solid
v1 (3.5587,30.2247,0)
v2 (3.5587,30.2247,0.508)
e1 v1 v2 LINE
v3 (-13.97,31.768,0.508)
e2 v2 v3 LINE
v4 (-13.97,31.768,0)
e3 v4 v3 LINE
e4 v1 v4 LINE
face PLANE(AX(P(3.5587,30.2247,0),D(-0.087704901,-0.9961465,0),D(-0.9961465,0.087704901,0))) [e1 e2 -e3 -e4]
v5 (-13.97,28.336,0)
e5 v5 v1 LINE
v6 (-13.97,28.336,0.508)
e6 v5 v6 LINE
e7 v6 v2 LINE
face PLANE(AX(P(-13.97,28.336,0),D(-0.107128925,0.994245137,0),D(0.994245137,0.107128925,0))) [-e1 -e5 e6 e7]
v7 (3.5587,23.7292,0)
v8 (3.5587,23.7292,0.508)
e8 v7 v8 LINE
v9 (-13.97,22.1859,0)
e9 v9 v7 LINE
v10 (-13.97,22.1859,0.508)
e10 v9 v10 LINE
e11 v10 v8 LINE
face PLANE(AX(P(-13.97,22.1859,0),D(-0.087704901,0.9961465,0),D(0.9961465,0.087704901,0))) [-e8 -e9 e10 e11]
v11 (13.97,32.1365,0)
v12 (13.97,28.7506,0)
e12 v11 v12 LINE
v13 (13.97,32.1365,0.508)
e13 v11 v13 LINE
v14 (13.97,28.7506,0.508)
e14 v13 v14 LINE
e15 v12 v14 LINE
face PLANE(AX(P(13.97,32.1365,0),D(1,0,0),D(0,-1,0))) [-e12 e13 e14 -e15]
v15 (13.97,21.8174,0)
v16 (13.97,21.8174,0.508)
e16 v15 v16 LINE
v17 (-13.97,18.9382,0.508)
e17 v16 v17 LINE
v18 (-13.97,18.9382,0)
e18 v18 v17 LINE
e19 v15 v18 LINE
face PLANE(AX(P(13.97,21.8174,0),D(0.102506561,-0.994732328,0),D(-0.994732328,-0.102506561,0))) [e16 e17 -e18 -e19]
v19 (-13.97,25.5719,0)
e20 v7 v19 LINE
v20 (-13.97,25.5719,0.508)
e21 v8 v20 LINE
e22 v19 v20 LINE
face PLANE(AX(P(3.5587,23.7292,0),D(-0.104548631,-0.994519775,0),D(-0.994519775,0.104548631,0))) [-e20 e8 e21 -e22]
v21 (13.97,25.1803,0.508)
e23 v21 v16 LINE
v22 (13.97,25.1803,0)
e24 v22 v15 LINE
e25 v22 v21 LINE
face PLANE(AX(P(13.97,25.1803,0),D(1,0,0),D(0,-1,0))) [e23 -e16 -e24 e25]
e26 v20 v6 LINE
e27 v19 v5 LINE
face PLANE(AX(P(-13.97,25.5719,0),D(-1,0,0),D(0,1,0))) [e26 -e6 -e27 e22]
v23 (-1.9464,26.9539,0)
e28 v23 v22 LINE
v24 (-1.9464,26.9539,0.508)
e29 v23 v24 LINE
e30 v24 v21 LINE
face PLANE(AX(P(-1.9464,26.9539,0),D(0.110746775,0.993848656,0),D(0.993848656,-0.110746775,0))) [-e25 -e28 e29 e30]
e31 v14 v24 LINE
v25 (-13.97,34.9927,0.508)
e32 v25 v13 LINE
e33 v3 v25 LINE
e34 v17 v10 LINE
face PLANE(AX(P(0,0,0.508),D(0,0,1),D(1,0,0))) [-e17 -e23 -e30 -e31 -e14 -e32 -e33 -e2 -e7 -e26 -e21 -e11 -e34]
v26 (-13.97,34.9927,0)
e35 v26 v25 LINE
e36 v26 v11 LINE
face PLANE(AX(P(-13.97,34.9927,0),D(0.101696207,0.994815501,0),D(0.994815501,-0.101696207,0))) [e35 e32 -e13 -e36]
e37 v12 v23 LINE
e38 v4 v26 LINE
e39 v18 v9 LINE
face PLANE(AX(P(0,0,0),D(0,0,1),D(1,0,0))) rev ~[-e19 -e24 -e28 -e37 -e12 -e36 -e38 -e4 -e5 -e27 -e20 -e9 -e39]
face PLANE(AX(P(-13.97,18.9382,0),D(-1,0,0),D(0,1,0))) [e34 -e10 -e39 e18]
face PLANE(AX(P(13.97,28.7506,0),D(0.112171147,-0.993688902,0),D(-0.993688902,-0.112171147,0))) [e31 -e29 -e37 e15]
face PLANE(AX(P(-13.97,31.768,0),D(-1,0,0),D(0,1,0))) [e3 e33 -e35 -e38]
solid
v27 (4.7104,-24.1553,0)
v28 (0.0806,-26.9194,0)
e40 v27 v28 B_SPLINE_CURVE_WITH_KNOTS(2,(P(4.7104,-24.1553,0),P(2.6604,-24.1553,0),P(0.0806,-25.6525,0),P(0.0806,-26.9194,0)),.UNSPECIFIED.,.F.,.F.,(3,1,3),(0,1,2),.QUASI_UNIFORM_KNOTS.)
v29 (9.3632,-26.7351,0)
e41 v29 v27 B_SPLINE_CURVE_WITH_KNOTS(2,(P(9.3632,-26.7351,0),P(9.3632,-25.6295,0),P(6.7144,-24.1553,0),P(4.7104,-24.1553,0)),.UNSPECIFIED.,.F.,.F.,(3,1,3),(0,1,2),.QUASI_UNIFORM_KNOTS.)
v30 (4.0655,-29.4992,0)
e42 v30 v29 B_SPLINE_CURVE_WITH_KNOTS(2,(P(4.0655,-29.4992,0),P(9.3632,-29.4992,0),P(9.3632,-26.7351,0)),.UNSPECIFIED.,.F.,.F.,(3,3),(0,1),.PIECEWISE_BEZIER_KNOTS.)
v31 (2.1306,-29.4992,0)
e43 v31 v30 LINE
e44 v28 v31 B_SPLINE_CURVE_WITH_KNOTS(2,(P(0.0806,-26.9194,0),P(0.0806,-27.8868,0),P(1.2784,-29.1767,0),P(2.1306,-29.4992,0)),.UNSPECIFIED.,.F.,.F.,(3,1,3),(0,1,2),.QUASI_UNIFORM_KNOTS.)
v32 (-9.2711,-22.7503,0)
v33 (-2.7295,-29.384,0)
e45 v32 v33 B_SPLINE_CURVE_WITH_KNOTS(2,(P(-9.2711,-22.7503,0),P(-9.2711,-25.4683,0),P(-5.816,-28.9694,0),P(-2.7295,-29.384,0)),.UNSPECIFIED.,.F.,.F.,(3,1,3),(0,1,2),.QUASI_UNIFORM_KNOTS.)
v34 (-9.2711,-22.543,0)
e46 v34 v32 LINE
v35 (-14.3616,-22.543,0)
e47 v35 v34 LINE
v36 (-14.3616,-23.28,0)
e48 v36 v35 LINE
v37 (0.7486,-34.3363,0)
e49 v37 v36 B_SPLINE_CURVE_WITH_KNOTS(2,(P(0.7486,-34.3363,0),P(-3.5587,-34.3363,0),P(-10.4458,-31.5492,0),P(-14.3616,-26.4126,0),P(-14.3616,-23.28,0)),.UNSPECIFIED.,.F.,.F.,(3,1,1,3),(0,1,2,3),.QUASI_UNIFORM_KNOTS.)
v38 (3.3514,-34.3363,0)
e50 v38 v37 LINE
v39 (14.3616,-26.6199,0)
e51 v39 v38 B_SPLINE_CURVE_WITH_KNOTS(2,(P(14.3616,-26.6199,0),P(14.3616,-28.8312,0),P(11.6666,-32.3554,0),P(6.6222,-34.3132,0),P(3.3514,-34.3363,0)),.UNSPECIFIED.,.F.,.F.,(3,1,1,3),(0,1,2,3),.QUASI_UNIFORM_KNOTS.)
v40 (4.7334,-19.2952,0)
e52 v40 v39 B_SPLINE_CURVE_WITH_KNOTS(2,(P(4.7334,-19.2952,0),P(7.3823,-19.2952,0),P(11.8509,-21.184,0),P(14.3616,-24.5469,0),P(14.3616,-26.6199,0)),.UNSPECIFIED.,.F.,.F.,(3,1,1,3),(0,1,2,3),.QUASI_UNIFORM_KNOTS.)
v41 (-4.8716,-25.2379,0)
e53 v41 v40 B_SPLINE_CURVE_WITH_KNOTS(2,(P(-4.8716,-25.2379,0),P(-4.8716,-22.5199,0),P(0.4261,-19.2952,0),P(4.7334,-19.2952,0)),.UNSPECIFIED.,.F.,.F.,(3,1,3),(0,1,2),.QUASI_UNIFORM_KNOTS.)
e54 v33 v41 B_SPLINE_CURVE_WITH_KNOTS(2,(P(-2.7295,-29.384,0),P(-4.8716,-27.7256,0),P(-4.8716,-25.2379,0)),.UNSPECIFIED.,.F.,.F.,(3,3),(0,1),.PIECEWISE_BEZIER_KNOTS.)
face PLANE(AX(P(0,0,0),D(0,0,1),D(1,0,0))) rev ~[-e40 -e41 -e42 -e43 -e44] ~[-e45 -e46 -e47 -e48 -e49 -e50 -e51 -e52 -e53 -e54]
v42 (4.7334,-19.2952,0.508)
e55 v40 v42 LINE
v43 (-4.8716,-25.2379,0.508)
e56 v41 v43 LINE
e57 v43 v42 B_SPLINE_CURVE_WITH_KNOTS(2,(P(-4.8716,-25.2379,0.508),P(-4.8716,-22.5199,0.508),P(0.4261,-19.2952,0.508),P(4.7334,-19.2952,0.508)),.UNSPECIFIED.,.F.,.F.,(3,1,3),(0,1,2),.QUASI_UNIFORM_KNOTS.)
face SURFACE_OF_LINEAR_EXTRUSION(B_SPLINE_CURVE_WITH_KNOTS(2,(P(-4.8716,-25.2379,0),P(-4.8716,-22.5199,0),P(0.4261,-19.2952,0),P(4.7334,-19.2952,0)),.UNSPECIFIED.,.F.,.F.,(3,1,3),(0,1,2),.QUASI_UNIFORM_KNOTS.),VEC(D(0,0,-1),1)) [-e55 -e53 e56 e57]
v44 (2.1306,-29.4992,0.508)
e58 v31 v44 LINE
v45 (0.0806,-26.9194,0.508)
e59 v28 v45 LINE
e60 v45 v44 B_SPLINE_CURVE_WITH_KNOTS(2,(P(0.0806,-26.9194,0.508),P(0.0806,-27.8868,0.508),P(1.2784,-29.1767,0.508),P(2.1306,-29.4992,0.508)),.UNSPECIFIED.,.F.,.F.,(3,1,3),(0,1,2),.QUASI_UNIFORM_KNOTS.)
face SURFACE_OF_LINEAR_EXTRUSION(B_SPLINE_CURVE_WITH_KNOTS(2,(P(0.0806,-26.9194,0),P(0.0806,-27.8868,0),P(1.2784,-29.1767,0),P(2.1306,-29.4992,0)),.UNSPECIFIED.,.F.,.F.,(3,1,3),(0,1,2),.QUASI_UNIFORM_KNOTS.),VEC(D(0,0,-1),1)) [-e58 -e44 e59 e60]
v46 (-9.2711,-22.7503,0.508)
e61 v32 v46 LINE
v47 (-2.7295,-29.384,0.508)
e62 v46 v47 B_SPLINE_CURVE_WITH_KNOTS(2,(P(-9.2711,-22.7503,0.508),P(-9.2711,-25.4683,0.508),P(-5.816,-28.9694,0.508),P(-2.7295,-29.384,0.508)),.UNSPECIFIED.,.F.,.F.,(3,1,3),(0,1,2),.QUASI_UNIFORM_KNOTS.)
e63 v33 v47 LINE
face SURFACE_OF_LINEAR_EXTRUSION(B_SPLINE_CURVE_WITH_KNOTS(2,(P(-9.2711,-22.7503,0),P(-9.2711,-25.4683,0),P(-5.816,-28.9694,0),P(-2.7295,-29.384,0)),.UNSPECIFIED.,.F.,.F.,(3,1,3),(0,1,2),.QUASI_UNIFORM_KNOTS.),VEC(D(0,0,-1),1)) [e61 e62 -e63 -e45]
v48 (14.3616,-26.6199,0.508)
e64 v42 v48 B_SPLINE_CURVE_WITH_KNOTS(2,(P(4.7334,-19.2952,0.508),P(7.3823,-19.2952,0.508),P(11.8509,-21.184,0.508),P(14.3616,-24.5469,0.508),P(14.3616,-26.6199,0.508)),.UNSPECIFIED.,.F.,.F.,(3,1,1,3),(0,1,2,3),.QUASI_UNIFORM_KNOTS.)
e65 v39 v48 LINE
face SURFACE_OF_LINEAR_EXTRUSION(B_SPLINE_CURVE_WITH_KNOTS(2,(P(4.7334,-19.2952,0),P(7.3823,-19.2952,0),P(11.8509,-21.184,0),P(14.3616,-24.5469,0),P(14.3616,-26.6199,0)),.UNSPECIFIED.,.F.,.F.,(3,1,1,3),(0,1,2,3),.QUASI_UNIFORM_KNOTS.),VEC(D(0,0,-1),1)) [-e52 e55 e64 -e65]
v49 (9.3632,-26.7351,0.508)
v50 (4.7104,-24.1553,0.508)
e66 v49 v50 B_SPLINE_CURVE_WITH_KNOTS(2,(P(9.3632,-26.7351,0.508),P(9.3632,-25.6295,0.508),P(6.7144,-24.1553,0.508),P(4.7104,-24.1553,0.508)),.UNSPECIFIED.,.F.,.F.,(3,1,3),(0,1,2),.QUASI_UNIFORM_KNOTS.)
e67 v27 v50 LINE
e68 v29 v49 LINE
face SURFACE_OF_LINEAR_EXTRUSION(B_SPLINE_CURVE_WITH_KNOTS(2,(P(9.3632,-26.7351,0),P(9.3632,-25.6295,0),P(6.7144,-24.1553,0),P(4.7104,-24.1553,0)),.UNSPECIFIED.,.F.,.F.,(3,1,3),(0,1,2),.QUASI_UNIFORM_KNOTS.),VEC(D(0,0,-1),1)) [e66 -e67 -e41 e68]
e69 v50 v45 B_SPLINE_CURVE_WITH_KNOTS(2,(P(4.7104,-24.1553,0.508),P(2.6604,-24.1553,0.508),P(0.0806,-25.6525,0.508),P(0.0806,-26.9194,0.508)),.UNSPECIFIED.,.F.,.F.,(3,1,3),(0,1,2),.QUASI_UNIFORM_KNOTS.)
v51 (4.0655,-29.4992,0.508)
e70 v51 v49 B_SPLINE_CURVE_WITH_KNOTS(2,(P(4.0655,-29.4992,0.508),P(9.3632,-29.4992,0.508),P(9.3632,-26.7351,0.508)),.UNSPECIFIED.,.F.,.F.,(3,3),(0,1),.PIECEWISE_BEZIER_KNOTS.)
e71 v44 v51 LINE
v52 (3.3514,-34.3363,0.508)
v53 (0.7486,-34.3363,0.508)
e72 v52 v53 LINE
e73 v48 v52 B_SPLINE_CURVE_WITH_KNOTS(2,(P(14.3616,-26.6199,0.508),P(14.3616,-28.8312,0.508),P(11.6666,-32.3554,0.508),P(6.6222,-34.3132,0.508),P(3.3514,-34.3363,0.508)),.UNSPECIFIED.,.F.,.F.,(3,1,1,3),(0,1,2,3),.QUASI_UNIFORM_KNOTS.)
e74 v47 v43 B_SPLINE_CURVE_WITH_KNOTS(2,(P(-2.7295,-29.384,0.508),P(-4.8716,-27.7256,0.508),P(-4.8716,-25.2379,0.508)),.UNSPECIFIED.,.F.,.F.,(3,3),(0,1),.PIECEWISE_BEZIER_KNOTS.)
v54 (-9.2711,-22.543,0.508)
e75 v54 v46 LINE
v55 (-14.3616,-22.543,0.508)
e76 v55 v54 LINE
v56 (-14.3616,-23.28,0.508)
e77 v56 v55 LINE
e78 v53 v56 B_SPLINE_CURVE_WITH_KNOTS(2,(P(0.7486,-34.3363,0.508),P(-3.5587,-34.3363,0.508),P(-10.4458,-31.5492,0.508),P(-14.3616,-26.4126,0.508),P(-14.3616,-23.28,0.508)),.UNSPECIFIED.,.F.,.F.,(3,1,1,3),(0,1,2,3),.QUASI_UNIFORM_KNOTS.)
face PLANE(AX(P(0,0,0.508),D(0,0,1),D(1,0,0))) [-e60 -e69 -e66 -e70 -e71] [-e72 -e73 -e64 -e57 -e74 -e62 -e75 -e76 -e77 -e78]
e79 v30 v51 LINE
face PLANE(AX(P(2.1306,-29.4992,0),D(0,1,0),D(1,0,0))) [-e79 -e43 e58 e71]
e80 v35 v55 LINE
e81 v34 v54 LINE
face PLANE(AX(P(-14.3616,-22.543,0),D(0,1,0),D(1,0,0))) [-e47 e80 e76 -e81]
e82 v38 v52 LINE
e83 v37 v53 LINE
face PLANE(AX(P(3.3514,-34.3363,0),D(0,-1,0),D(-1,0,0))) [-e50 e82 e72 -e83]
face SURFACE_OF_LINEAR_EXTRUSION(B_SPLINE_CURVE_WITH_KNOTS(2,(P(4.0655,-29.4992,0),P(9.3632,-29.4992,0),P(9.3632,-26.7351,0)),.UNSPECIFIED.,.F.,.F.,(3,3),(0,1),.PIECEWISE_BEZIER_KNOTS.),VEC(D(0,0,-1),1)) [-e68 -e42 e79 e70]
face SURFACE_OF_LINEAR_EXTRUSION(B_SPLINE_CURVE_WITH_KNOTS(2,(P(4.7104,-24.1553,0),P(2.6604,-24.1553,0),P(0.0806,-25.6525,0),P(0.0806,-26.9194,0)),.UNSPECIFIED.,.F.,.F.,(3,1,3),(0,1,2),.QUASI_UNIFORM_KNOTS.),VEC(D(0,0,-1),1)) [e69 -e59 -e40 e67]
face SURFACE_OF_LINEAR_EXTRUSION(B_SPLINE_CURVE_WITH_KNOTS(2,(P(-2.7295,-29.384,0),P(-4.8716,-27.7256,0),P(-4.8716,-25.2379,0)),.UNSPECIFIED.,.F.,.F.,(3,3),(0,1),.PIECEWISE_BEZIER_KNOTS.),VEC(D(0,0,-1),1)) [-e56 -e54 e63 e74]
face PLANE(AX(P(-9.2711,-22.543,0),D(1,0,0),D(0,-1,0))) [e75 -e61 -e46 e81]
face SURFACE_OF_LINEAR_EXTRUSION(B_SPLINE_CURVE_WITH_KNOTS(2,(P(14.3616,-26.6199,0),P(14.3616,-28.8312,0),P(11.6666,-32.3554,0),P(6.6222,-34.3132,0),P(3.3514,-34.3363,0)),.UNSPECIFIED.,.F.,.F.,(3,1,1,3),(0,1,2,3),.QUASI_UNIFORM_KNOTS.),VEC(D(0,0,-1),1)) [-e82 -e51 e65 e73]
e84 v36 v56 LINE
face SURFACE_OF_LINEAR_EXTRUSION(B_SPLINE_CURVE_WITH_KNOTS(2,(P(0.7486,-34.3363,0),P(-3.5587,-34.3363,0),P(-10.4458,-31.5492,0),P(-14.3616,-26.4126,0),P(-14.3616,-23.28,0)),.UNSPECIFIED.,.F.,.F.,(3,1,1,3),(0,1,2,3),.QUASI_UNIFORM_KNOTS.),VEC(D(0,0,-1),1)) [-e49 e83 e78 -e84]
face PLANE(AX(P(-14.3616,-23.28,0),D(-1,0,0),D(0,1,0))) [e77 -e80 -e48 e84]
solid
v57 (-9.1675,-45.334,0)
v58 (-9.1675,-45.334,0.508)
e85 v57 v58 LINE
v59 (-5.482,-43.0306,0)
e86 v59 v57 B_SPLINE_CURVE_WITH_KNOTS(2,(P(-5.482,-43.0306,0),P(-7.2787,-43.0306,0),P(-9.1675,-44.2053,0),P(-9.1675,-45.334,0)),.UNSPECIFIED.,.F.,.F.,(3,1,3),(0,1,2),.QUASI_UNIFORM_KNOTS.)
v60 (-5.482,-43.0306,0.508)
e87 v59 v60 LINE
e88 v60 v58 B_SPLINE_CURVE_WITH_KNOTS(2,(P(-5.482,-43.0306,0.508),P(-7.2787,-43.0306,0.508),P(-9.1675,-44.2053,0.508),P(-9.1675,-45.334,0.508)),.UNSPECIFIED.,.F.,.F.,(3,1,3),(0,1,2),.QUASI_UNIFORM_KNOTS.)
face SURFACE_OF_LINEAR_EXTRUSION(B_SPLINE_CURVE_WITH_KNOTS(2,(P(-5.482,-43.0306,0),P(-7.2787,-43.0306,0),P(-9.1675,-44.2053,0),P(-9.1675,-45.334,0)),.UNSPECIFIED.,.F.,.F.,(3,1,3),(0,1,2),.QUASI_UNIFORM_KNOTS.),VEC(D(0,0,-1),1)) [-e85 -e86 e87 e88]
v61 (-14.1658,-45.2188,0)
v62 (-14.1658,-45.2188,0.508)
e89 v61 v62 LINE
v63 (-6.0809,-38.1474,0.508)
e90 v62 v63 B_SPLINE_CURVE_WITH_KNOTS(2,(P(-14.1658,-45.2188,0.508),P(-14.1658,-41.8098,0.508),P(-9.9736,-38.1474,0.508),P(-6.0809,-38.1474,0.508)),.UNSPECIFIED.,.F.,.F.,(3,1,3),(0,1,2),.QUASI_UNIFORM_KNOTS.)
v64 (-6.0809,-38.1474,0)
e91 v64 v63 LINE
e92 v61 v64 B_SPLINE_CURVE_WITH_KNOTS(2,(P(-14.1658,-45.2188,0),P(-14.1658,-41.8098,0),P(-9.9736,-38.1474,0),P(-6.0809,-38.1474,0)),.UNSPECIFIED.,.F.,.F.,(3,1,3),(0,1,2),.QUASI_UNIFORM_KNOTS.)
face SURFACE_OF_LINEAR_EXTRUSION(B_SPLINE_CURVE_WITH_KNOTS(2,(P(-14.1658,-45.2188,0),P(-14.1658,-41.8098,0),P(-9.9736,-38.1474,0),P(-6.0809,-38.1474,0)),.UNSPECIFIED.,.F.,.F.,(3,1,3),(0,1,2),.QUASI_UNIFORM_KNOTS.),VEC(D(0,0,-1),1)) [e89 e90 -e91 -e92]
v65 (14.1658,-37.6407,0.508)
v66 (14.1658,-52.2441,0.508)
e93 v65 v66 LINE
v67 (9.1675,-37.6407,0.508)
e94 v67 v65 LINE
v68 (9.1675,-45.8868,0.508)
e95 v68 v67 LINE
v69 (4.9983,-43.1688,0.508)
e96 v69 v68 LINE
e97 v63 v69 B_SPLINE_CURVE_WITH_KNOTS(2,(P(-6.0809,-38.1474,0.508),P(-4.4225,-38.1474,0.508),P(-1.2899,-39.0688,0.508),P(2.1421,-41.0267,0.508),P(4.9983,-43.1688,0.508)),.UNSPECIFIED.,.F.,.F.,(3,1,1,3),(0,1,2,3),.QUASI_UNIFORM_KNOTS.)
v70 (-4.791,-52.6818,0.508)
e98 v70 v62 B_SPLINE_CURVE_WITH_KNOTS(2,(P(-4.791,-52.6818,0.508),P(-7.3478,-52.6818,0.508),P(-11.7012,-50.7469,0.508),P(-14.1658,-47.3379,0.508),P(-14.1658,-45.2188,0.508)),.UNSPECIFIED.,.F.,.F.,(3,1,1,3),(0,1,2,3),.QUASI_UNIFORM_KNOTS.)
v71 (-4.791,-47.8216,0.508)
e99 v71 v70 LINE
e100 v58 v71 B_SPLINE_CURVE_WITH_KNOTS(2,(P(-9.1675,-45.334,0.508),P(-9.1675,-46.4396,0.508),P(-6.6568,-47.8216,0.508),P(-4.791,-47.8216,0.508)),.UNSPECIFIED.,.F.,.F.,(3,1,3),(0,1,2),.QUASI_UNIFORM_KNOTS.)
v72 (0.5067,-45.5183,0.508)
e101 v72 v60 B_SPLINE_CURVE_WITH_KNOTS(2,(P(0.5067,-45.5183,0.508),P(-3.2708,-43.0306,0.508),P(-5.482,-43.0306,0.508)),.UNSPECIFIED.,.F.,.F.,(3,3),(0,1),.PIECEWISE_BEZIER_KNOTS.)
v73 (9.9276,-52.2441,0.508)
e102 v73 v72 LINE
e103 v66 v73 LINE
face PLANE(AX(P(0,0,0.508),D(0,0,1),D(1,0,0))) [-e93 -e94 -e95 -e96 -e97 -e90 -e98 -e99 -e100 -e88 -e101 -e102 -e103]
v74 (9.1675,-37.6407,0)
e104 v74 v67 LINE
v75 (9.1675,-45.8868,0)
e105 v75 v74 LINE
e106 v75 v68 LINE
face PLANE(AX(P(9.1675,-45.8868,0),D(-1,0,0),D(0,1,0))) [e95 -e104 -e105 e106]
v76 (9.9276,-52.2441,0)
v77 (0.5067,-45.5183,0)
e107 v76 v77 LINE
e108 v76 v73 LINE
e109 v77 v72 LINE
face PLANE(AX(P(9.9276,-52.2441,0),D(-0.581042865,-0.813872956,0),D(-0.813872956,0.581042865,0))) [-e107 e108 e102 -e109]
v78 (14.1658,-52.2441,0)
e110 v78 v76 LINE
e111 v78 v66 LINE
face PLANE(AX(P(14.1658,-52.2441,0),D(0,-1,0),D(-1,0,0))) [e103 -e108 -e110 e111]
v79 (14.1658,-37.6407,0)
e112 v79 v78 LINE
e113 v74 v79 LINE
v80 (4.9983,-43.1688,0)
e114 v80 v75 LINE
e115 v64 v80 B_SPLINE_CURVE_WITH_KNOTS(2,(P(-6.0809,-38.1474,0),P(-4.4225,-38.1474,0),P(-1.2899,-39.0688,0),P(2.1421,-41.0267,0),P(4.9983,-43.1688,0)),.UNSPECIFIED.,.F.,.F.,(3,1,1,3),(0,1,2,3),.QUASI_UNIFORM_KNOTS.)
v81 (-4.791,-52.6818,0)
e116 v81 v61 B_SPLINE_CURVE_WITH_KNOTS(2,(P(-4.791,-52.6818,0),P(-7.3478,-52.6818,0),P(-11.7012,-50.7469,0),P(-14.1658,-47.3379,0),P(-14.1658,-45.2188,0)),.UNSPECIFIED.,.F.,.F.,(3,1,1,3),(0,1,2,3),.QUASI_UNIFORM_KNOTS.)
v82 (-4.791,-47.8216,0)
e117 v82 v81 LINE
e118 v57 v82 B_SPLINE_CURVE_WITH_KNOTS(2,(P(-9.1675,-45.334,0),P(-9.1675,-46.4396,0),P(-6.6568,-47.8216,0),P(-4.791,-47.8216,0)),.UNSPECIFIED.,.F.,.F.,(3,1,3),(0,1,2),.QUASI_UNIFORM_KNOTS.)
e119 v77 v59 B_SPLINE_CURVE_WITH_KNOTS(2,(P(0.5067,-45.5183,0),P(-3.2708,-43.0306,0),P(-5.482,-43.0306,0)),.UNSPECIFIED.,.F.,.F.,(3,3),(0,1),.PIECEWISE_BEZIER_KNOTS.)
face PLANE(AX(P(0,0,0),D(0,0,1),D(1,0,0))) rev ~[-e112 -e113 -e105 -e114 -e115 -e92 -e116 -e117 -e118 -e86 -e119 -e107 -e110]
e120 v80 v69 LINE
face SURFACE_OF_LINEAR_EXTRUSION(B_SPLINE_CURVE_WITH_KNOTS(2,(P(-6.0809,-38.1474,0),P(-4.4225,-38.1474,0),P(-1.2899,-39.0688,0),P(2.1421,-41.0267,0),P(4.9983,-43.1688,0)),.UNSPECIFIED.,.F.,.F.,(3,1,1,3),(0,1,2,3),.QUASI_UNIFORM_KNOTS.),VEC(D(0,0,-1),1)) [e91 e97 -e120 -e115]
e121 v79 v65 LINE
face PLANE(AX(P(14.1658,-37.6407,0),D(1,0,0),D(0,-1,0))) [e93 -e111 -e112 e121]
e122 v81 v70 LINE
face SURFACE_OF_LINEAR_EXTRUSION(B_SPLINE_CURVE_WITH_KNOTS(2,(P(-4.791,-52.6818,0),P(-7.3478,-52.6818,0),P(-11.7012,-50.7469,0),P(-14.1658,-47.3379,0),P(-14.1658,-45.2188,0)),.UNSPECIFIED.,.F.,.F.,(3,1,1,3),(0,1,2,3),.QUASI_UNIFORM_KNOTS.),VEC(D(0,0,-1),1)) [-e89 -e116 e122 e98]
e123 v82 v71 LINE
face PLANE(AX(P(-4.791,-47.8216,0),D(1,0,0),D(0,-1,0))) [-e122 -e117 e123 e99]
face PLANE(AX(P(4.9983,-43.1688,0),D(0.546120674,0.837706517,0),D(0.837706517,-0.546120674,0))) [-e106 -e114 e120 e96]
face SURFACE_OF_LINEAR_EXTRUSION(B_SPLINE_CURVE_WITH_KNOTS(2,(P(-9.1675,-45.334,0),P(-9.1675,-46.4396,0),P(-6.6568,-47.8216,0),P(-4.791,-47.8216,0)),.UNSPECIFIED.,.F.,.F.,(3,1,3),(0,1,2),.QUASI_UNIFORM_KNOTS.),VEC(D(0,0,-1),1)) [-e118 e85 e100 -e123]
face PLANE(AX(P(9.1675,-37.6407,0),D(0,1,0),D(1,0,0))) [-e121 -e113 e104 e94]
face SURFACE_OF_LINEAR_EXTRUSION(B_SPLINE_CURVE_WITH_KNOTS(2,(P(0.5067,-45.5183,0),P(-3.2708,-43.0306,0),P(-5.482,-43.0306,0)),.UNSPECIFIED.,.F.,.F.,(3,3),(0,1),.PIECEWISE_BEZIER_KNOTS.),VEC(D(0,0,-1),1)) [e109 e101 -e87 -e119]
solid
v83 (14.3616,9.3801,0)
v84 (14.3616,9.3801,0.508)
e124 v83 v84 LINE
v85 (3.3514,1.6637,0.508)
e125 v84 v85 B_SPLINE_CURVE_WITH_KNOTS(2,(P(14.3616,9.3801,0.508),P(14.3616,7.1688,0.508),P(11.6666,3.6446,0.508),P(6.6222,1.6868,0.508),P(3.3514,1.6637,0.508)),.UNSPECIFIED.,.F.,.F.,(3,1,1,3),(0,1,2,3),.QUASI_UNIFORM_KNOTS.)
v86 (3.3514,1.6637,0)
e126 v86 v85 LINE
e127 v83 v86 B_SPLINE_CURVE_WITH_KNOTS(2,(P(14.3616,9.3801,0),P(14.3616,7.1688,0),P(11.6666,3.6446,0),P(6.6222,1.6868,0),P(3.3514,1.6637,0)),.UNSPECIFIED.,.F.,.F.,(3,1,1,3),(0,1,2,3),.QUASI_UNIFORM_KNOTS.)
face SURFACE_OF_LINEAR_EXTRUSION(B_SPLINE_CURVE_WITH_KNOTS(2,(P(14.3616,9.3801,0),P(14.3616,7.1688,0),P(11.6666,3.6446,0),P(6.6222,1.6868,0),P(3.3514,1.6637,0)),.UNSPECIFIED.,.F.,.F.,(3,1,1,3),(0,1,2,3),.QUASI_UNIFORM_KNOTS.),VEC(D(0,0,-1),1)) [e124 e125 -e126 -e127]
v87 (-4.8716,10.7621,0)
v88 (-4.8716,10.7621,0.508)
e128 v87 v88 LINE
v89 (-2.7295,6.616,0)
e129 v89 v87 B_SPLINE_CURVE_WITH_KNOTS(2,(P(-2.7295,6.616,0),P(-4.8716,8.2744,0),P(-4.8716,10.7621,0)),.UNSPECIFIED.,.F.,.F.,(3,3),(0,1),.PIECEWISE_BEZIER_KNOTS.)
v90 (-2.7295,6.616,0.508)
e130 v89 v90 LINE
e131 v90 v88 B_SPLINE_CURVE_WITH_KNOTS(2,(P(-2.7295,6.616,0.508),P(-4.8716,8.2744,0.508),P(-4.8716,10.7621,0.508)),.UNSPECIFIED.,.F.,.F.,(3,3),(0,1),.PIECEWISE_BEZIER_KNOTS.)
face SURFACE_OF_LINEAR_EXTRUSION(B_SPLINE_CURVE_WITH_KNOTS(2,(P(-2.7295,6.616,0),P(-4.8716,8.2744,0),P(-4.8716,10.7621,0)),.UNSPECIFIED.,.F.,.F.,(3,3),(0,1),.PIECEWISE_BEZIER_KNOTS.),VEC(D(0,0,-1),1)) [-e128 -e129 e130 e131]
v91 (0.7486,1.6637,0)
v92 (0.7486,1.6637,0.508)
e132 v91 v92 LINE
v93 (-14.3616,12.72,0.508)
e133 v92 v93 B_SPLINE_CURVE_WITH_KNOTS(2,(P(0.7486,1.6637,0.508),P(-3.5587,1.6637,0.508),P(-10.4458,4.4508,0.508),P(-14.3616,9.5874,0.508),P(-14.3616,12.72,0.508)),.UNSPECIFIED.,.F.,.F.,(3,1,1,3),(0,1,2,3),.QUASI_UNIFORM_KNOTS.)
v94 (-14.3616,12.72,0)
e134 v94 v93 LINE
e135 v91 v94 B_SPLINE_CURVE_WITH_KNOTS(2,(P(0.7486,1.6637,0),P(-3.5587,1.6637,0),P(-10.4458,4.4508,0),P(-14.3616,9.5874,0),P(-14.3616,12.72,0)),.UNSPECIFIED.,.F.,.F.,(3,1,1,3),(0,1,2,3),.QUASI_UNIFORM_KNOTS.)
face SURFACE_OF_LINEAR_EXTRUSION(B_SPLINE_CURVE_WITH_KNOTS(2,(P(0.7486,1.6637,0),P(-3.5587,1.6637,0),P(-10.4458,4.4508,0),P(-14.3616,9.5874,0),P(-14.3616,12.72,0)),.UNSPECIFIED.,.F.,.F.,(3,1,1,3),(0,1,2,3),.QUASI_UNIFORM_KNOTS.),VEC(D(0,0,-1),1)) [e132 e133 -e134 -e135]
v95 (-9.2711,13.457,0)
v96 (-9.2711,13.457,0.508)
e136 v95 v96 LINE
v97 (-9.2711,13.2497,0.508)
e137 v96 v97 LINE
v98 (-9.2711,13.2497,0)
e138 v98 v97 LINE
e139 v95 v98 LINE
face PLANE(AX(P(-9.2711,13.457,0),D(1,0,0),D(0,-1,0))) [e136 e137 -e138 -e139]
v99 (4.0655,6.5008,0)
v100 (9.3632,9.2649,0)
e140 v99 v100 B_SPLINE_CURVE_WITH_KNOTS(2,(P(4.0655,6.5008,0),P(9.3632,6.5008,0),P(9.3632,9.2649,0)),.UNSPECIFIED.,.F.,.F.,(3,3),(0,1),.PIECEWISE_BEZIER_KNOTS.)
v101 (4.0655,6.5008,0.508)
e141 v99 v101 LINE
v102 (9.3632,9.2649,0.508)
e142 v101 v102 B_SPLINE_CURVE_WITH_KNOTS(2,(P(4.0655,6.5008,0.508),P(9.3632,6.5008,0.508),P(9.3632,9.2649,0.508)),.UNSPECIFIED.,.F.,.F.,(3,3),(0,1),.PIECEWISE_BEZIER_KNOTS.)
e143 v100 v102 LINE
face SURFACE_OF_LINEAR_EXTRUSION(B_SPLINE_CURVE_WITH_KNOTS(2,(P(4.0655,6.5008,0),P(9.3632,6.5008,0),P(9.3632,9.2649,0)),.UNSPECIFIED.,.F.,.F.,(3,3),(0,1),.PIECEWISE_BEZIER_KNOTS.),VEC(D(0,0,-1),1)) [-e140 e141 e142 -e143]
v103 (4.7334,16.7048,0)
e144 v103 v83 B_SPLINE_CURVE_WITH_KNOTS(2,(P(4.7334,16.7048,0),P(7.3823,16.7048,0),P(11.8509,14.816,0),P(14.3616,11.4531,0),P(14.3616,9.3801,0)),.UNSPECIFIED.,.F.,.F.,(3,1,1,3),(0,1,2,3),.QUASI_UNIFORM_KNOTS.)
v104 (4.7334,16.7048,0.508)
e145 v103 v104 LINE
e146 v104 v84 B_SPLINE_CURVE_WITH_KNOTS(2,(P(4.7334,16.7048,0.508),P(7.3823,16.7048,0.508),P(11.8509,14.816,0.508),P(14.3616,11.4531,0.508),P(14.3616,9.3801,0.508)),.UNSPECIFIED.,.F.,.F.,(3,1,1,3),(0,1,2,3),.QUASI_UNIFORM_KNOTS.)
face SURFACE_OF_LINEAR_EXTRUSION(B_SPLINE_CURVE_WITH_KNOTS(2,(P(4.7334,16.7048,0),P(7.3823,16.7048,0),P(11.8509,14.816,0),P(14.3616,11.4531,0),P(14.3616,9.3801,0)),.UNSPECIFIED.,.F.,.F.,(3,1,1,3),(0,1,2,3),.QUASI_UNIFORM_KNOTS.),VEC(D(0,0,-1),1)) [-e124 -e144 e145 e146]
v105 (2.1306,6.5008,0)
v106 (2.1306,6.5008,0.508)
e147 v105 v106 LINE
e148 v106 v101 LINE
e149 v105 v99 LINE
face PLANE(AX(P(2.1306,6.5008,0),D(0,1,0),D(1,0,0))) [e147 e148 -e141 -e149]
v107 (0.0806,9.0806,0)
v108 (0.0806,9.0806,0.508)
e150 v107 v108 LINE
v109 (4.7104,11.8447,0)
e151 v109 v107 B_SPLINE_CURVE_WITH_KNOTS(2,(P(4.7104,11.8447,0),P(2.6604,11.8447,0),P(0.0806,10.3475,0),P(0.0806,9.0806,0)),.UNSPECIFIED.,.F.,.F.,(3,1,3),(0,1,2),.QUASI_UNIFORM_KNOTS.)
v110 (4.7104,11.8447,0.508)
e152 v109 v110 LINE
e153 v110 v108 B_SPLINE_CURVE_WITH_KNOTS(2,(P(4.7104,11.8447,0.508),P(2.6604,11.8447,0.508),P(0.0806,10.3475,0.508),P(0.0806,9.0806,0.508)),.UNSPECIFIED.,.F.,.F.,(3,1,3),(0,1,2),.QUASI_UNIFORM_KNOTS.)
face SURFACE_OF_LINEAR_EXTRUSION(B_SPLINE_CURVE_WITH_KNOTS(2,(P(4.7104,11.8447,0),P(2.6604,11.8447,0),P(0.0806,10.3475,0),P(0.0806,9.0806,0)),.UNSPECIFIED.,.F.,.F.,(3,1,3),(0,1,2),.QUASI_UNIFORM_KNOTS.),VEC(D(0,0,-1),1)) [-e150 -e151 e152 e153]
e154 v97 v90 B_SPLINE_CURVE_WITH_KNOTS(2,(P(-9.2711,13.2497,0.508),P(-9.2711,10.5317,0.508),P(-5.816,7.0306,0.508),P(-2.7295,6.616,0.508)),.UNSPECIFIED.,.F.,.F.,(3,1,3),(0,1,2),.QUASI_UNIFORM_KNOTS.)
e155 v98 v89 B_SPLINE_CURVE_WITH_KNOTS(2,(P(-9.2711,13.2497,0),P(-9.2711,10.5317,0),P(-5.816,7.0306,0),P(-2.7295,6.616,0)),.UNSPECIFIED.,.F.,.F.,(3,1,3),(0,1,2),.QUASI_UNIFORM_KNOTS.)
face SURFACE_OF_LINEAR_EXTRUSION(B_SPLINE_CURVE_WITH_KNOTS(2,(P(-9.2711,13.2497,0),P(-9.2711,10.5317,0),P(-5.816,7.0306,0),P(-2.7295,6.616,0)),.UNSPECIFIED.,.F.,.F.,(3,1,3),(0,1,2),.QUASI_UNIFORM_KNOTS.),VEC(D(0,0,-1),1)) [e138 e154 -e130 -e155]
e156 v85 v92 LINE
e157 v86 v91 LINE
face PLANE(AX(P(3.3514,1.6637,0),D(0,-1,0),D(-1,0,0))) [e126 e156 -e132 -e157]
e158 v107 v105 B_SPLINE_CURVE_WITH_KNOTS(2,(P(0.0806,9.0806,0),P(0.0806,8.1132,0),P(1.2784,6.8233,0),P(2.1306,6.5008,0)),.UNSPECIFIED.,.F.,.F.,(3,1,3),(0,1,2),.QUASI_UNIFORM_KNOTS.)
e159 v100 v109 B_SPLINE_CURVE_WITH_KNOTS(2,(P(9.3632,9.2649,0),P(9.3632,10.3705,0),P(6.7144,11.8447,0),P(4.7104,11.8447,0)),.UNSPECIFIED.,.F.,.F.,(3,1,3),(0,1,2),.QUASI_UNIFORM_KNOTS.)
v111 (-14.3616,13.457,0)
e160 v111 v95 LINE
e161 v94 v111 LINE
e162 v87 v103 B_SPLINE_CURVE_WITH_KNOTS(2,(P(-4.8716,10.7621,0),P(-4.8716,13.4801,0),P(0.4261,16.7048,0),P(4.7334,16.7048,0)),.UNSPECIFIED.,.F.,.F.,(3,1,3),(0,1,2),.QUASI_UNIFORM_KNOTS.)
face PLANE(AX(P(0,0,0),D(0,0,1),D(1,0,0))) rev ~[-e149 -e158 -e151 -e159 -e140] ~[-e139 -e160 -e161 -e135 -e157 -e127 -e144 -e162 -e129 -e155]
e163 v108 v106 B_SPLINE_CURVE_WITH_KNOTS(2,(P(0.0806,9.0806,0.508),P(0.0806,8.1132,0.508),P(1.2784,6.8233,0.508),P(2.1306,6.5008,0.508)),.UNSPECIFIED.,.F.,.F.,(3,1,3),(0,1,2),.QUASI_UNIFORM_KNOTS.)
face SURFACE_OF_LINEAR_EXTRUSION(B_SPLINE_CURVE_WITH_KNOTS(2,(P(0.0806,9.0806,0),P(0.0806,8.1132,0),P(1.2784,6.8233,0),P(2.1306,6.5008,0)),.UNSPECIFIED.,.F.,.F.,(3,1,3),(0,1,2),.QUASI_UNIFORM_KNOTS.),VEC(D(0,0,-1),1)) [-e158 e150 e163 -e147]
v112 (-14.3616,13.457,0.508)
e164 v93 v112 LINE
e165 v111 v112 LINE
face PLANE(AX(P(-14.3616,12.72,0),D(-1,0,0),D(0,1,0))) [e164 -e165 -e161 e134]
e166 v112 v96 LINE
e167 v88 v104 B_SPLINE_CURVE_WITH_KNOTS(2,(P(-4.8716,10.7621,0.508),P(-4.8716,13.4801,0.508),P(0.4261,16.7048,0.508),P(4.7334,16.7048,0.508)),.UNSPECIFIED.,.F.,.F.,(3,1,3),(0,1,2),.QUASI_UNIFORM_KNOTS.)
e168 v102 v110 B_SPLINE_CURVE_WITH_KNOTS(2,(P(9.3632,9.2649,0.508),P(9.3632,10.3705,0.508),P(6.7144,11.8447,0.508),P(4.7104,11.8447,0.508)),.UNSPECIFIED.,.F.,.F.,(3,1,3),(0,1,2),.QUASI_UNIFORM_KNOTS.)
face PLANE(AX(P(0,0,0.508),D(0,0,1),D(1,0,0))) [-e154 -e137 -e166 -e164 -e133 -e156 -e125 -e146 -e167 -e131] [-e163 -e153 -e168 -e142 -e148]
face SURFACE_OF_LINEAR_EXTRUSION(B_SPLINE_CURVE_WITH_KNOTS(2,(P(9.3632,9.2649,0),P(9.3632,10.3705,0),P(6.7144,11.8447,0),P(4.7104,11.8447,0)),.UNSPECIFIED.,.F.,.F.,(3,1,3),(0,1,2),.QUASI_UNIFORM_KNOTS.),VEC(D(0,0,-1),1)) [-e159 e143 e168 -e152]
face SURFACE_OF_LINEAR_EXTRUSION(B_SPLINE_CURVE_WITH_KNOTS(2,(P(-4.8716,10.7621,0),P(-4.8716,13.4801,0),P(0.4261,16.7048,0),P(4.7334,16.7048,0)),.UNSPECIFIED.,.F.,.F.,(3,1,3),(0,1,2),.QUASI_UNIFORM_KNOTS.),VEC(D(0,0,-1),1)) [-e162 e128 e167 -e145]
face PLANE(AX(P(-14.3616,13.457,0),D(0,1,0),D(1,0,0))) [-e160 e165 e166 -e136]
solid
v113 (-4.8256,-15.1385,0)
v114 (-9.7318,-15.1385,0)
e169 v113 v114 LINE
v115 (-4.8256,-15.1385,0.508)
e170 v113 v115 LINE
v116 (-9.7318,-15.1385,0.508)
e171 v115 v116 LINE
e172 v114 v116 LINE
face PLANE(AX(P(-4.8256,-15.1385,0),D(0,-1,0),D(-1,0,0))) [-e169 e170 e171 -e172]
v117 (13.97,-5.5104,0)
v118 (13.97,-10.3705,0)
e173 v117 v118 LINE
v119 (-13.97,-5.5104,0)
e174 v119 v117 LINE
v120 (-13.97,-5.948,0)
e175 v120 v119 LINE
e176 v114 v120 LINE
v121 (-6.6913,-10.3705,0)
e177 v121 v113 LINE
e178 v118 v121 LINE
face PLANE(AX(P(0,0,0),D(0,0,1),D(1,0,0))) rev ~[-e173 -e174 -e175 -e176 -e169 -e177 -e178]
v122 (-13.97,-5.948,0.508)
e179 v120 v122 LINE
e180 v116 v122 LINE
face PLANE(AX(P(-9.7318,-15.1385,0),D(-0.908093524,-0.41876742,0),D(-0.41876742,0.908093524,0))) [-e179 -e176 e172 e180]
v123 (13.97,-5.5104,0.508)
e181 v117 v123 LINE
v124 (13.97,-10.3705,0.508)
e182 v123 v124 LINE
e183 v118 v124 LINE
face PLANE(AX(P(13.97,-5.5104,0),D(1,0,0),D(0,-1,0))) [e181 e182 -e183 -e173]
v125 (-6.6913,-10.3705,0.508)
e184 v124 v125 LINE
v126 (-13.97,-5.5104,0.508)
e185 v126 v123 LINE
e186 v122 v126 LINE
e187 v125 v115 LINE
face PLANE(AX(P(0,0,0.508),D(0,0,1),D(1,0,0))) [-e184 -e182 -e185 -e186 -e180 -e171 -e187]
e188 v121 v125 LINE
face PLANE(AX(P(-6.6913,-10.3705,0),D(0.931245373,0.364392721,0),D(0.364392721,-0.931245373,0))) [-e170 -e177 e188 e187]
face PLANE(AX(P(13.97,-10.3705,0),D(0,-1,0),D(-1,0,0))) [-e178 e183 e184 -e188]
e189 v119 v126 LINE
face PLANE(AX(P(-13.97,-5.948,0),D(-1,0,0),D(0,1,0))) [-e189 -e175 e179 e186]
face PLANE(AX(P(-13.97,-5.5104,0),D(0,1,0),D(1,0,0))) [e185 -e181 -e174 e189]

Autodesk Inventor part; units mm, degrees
ref_plane "YZ Plane" through (0, 0, 0) normal (1, 0, 0) x (0, 1, 0)
ref_plane "XZ Plane" through (0, 0, 0) normal (0, 1, 0) x (-1, 0, 0)
ref_plane "XY Plane" through (0, 0, 0) normal (0, 0, 1) x (1, 0, 0)
sketch "Sketch1" plane through (0, 0, 0) normal (0, 0, 1) x (1, 0, 0)
  line L0 (-16, -36.75) -> (-16, -53.25) construction
  line L1 (-16, -53.25) -> (16, -53.25) construction
  line L2 (16, -53.25) -> (16, -36.75) construction
  line L3 (16, -36.75) -> (-16, -36.75) construction
  line L4 (-16, -18.75) -> (-16, -35.25) construction
  line L5 (-16, -35.25) -> (16, -35.25) construction
  line L6 (16, -35.25) -> (16, -18.75) construction
  line L7 (16, -18.75) -> (-16, -18.75) construction
  line L8 (-16, -0.75) -> (-16, -17.25) construction
  line L9 (-16, -17.25) -> (16, -17.25) construction
  line L10 (16, -17.25) -> (16, -0.75) construction
  line L11 (16, -0.75) -> (-16, -0.75) construction
  line L12 (-16, 17.25) -> (-16, 0.75) construction
  line L13 (-16, 0.75) -> (16, 0.75) construction
  line L14 (16, 0.75) -> (16, 17.25) construction
  line L15 (16, 17.25) -> (-16, 17.25) construction
  line L16 (-16, 35.25) -> (-16, 18.75) construction
  line L17 (-16, 18.75) -> (16, 18.75) construction
  line L18 (16, 18.75) -> (16, 35.25) construction
  line L19 (16, 35.25) -> (-16, 35.25) construction
  line L20 (-16, -35.25) -> (-16, -18.75) construction
  line L21 (-16, -18.75) -> (16, -18.75) construction
  line L22 (16, -18.75) -> (16, -35.25) construction
  line L23 (16, -35.25) -> (-16, -35.25) construction
  line L24 (-16, -17.25) -> (-16, -0.75) construction
  line L25 (-16, -0.75) -> (16, -0.75) construction
  line L26 (16, -0.75) -> (16, -17.25) construction
  line L27 (16, -17.25) -> (-16, -17.25) construction
  line L28 (-16, -53.25) -> (-16, -36.75) construction
  line L29 (-16, -36.75) -> (16, -36.75) construction
  line L30 (16, -36.75) -> (16, -53.25) construction
  line L31 (16, -53.25) -> (-16, -53.25) construction
  line L32 (16, 0.75) -> (-16, 0.75) construction
  line L33 (-16, 0.75) -> (-16, 17.25) construction
  line L34 (-16, 17.25) -> (16, 17.25) construction
  line L35 (16, 17.25) -> (16, 0.75) construction
  line L36 (16, 18.75) -> (-16, 18.75) construction
  line L37 (-16, 18.75) -> (-16, 35.25) construction
  line L38 (-16, 35.25) -> (16, 35.25) construction
  line L39 (16, 35.25) -> (16, 18.75) construction
  line L40 (14.1658, -37.6407) -> (14.1658, -52.2441)
  line L41 (14.1658, -52.2441) -> (9.9276, -52.2441)
  line L42 (9.9276, -52.2441) -> (0.5067, -45.5183)
  spline S0 degree 2 poles (0.5067, -45.5183) (-3.2708, -43.0306) (-5.482, -43.0306) knots 0 0 0 1 1 1
  spline S1 degree 2 poles (-5.482, -43.0306) (-7.2787, -43.0306) (-9.1675, -44.2053) (-9.1675, -45.334) knots 0 0 0 1 2 2 2
  spline S2 degree 2 poles (-9.1675, -45.334) (-9.1675, -46.4396) (-6.6568, -47.8216) (-4.791, -47.8216) knots 0 0 0 1 2 2 2
  line L43 (-4.791, -47.8216) -> (-4.791, -52.6818)
  spline S3 degree 2 poles (-4.791, -52.6818) (-7.3478, -52.6818) (-11.7012, -50.7469) (-14.1658, -47.3379) (-14.1658, -45.2188) knots 0 0 0 1 2 3 3 3
  spline S4 degree 2 poles (-14.1658, -45.2188) (-14.1658, -41.8098) (-9.9736, -38.1474) (-6.0809, -38.1474) knots 0 0 0 1 2 2 2
  spline S5 degree 2 poles (-6.0809, -38.1474) (-4.4225, -38.1474) (-1.2899, -39.0688) (2.1421, -41.0267) (4.9983, -43.1688) knots 0 0 0 1 2 3 3 3
  line L44 (4.9983, -43.1688) -> (9.1675, -45.8868)
  line L45 (9.1675, -45.8868) -> (9.1675, -37.6407)
  line L46 (9.1675, -37.6407) -> (14.1658, -37.6407)
  line L47 (-14.3616, -22.543) -> (-9.2711, -22.543)
  line L48 (-9.2711, -22.543) -> (-9.2711, -22.7503)
  spline S6 degree 2 poles (-9.2711, -22.7503) (-9.2711, -25.4683) (-5.816, -28.9694) (-2.7295, -29.384) knots 0 0 0 1 2 2 2
  spline S7 degree 2 poles (-2.7295, -29.384) (-4.8716, -27.7256) (-4.8716, -25.2379) knots 0 0 0 1 1 1
  spline S8 degree 2 poles (-4.8716, -25.2379) (-4.8716, -22.5199) (0.4261, -19.2952) (4.7334, -19.2952) knots 0 0 0 1 2 2 2
  spline S9 degree 2 poles (4.7334, -19.2952) (7.3823, -19.2952) (11.8509, -21.184) (14.3616, -24.5469) (14.3616, -26.6199) knots 0 0 0 1 2 3 3 3
  spline S10 degree 2 poles (14.3616, -26.6199) (14.3616, -28.8312) (11.6666, -32.3554) (6.6222, -34.3132) (3.3514, -34.3363) knots 0 0 0 1 2 3 3 3
  line L49 (3.3514, -34.3363) -> (0.7486, -34.3363)
  spline S11 degree 2 poles (0.7486, -34.3363) (-3.5587, -34.3363) (-10.4458, -31.5492) (-14.3616, -26.4126) (-14.3616, -23.28) knots 0 0 0 1 2 3 3 3
  line L50 (-14.3616, -23.28) -> (-14.3616, -22.543)
  spline S12 degree 2 poles (0.0806, -26.9194) (0.0806, -27.8868) (1.2784, -29.1767) (2.1306, -29.4992) knots 0 0 0 1 2 2 2
  line L51 (2.1306, -29.4992) -> (4.0655, -29.4992)
  spline S13 degree 2 poles (4.0655, -29.4992) (9.3632, -29.4992) (9.3632, -26.7351) knots 0 0 0 1 1 1
  spline S14 degree 2 poles (9.3632, -26.7351) (9.3632, -25.6295) (6.7144, -24.1553) (4.7104, -24.1553) knots 0 0 0 1 2 2 2
  spline S15 degree 2 poles (4.7104, -24.1553) (2.6604, -24.1553) (0.0806, -25.6525) (0.0806, -26.9194) knots 0 0 0 1 2 2 2
  line L52 (13.97, -5.5104) -> (13.97, -10.3705)
  line L53 (13.97, -10.3705) -> (-6.6913, -10.3705)
  line L54 (-6.6913, -10.3705) -> (-4.8256, -15.1385)
  line L55 (-4.8256, -15.1385) -> (-9.7318, -15.1385)
  line L56 (-9.7318, -15.1385) -> (-13.97, -5.948)
  line L57 (-13.97, -5.948) -> (-13.97, -5.5104)
  line L58 (-13.97, -5.5104) -> (13.97, -5.5104)
  line L59 (-14.3616, 13.457) -> (-9.2711, 13.457)
  line L60 (-9.2711, 13.457) -> (-9.2711, 13.2497)
  spline S16 degree 2 poles (-9.2711, 13.2497) (-9.2711, 10.5317) (-5.816, 7.0306) (-2.7295, 6.616) knots 0 0 0 1 2 2 2
  spline S17 degree 2 poles (-2.7295, 6.616) (-4.8716, 8.2744) (-4.8716, 10.7621) knots 0 0 0 1 1 1
  spline S18 degree 2 poles (-4.8716, 10.7621) (-4.8716, 13.4801) (0.4261, 16.7048) (4.7334, 16.7048) knots 0 0 0 1 2 2 2
  spline S19 degree 2 poles (4.7334, 16.7048) (7.3823, 16.7048) (11.8509, 14.816) (14.3616, 11.4531) (14.3616, 9.3801) knots 0 0 0 1 2 3 3 3
  spline S20 degree 2 poles (14.3616, 9.3801) (14.3616, 7.1688) (11.6666, 3.6446) (6.6222, 1.6868) (3.3514, 1.6637) knots 0 0 0 1 2 3 3 3
  line L61 (3.3514, 1.6637) -> (0.7486, 1.6637)
  spline S21 degree 2 poles (0.7486, 1.6637) (-3.5587, 1.6637) (-10.4458, 4.4508) (-14.3616, 9.5874) (-14.3616, 12.72) knots 0 0 0 1 2 3 3 3
  line L62 (-14.3616, 12.72) -> (-14.3616, 13.457)
  spline S22 degree 2 poles (0.0806, 9.0806) (0.0806, 8.1132) (1.2784, 6.8233) (2.1306, 6.5008) knots 0 0 0 1 2 2 2
  line L63 (2.1306, 6.5008) -> (4.0655, 6.5008)
  spline S23 degree 2 poles (4.0655, 6.5008) (9.3632, 6.5008) (9.3632, 9.2649) knots 0 0 0 1 1 1
  spline S24 degree 2 poles (9.3632, 9.2649) (9.3632, 10.3705) (6.7144, 11.8447) (4.7104, 11.8447) knots 0 0 0 1 2 2 2
  spline S25 degree 2 poles (4.7104, 11.8447) (2.6604, 11.8447) (0.0806, 10.3475) (0.0806, 9.0806) knots 0 0 0 1 2 2 2
  line L64 (3.5587, 30.2247) -> (-13.97, 31.768)
  line L65 (-13.97, 31.768) -> (-13.97, 34.9927)
  line L66 (-13.97, 34.9927) -> (13.97, 32.1365)
  line L67 (13.97, 32.1365) -> (13.97, 28.7506)
  line L68 (13.97, 28.7506) -> (-1.9464, 26.9539)
  line L69 (-1.9464, 26.9539) -> (13.97, 25.1803)
  line L70 (13.97, 25.1803) -> (13.97, 21.8174)
  line L71 (13.97, 21.8174) -> (-13.97, 18.9382)
  line L72 (-13.97, 18.9382) -> (-13.97, 22.1859)
  line L73 (-13.97, 22.1859) -> (3.5587, 23.7292)
  line L74 (3.5587, 23.7292) -> (-13.97, 25.5719)
  line L75 (-13.97, 25.5719) -> (-13.97, 28.336)
  line L76 (-13.97, 28.336) -> (3.5587, 30.2247)
  point P0 (0, 0)
extrude "Extrusion1" add sketch "Sketch1" along normal blind 0.508
properties part number "Licence plate numbers"
